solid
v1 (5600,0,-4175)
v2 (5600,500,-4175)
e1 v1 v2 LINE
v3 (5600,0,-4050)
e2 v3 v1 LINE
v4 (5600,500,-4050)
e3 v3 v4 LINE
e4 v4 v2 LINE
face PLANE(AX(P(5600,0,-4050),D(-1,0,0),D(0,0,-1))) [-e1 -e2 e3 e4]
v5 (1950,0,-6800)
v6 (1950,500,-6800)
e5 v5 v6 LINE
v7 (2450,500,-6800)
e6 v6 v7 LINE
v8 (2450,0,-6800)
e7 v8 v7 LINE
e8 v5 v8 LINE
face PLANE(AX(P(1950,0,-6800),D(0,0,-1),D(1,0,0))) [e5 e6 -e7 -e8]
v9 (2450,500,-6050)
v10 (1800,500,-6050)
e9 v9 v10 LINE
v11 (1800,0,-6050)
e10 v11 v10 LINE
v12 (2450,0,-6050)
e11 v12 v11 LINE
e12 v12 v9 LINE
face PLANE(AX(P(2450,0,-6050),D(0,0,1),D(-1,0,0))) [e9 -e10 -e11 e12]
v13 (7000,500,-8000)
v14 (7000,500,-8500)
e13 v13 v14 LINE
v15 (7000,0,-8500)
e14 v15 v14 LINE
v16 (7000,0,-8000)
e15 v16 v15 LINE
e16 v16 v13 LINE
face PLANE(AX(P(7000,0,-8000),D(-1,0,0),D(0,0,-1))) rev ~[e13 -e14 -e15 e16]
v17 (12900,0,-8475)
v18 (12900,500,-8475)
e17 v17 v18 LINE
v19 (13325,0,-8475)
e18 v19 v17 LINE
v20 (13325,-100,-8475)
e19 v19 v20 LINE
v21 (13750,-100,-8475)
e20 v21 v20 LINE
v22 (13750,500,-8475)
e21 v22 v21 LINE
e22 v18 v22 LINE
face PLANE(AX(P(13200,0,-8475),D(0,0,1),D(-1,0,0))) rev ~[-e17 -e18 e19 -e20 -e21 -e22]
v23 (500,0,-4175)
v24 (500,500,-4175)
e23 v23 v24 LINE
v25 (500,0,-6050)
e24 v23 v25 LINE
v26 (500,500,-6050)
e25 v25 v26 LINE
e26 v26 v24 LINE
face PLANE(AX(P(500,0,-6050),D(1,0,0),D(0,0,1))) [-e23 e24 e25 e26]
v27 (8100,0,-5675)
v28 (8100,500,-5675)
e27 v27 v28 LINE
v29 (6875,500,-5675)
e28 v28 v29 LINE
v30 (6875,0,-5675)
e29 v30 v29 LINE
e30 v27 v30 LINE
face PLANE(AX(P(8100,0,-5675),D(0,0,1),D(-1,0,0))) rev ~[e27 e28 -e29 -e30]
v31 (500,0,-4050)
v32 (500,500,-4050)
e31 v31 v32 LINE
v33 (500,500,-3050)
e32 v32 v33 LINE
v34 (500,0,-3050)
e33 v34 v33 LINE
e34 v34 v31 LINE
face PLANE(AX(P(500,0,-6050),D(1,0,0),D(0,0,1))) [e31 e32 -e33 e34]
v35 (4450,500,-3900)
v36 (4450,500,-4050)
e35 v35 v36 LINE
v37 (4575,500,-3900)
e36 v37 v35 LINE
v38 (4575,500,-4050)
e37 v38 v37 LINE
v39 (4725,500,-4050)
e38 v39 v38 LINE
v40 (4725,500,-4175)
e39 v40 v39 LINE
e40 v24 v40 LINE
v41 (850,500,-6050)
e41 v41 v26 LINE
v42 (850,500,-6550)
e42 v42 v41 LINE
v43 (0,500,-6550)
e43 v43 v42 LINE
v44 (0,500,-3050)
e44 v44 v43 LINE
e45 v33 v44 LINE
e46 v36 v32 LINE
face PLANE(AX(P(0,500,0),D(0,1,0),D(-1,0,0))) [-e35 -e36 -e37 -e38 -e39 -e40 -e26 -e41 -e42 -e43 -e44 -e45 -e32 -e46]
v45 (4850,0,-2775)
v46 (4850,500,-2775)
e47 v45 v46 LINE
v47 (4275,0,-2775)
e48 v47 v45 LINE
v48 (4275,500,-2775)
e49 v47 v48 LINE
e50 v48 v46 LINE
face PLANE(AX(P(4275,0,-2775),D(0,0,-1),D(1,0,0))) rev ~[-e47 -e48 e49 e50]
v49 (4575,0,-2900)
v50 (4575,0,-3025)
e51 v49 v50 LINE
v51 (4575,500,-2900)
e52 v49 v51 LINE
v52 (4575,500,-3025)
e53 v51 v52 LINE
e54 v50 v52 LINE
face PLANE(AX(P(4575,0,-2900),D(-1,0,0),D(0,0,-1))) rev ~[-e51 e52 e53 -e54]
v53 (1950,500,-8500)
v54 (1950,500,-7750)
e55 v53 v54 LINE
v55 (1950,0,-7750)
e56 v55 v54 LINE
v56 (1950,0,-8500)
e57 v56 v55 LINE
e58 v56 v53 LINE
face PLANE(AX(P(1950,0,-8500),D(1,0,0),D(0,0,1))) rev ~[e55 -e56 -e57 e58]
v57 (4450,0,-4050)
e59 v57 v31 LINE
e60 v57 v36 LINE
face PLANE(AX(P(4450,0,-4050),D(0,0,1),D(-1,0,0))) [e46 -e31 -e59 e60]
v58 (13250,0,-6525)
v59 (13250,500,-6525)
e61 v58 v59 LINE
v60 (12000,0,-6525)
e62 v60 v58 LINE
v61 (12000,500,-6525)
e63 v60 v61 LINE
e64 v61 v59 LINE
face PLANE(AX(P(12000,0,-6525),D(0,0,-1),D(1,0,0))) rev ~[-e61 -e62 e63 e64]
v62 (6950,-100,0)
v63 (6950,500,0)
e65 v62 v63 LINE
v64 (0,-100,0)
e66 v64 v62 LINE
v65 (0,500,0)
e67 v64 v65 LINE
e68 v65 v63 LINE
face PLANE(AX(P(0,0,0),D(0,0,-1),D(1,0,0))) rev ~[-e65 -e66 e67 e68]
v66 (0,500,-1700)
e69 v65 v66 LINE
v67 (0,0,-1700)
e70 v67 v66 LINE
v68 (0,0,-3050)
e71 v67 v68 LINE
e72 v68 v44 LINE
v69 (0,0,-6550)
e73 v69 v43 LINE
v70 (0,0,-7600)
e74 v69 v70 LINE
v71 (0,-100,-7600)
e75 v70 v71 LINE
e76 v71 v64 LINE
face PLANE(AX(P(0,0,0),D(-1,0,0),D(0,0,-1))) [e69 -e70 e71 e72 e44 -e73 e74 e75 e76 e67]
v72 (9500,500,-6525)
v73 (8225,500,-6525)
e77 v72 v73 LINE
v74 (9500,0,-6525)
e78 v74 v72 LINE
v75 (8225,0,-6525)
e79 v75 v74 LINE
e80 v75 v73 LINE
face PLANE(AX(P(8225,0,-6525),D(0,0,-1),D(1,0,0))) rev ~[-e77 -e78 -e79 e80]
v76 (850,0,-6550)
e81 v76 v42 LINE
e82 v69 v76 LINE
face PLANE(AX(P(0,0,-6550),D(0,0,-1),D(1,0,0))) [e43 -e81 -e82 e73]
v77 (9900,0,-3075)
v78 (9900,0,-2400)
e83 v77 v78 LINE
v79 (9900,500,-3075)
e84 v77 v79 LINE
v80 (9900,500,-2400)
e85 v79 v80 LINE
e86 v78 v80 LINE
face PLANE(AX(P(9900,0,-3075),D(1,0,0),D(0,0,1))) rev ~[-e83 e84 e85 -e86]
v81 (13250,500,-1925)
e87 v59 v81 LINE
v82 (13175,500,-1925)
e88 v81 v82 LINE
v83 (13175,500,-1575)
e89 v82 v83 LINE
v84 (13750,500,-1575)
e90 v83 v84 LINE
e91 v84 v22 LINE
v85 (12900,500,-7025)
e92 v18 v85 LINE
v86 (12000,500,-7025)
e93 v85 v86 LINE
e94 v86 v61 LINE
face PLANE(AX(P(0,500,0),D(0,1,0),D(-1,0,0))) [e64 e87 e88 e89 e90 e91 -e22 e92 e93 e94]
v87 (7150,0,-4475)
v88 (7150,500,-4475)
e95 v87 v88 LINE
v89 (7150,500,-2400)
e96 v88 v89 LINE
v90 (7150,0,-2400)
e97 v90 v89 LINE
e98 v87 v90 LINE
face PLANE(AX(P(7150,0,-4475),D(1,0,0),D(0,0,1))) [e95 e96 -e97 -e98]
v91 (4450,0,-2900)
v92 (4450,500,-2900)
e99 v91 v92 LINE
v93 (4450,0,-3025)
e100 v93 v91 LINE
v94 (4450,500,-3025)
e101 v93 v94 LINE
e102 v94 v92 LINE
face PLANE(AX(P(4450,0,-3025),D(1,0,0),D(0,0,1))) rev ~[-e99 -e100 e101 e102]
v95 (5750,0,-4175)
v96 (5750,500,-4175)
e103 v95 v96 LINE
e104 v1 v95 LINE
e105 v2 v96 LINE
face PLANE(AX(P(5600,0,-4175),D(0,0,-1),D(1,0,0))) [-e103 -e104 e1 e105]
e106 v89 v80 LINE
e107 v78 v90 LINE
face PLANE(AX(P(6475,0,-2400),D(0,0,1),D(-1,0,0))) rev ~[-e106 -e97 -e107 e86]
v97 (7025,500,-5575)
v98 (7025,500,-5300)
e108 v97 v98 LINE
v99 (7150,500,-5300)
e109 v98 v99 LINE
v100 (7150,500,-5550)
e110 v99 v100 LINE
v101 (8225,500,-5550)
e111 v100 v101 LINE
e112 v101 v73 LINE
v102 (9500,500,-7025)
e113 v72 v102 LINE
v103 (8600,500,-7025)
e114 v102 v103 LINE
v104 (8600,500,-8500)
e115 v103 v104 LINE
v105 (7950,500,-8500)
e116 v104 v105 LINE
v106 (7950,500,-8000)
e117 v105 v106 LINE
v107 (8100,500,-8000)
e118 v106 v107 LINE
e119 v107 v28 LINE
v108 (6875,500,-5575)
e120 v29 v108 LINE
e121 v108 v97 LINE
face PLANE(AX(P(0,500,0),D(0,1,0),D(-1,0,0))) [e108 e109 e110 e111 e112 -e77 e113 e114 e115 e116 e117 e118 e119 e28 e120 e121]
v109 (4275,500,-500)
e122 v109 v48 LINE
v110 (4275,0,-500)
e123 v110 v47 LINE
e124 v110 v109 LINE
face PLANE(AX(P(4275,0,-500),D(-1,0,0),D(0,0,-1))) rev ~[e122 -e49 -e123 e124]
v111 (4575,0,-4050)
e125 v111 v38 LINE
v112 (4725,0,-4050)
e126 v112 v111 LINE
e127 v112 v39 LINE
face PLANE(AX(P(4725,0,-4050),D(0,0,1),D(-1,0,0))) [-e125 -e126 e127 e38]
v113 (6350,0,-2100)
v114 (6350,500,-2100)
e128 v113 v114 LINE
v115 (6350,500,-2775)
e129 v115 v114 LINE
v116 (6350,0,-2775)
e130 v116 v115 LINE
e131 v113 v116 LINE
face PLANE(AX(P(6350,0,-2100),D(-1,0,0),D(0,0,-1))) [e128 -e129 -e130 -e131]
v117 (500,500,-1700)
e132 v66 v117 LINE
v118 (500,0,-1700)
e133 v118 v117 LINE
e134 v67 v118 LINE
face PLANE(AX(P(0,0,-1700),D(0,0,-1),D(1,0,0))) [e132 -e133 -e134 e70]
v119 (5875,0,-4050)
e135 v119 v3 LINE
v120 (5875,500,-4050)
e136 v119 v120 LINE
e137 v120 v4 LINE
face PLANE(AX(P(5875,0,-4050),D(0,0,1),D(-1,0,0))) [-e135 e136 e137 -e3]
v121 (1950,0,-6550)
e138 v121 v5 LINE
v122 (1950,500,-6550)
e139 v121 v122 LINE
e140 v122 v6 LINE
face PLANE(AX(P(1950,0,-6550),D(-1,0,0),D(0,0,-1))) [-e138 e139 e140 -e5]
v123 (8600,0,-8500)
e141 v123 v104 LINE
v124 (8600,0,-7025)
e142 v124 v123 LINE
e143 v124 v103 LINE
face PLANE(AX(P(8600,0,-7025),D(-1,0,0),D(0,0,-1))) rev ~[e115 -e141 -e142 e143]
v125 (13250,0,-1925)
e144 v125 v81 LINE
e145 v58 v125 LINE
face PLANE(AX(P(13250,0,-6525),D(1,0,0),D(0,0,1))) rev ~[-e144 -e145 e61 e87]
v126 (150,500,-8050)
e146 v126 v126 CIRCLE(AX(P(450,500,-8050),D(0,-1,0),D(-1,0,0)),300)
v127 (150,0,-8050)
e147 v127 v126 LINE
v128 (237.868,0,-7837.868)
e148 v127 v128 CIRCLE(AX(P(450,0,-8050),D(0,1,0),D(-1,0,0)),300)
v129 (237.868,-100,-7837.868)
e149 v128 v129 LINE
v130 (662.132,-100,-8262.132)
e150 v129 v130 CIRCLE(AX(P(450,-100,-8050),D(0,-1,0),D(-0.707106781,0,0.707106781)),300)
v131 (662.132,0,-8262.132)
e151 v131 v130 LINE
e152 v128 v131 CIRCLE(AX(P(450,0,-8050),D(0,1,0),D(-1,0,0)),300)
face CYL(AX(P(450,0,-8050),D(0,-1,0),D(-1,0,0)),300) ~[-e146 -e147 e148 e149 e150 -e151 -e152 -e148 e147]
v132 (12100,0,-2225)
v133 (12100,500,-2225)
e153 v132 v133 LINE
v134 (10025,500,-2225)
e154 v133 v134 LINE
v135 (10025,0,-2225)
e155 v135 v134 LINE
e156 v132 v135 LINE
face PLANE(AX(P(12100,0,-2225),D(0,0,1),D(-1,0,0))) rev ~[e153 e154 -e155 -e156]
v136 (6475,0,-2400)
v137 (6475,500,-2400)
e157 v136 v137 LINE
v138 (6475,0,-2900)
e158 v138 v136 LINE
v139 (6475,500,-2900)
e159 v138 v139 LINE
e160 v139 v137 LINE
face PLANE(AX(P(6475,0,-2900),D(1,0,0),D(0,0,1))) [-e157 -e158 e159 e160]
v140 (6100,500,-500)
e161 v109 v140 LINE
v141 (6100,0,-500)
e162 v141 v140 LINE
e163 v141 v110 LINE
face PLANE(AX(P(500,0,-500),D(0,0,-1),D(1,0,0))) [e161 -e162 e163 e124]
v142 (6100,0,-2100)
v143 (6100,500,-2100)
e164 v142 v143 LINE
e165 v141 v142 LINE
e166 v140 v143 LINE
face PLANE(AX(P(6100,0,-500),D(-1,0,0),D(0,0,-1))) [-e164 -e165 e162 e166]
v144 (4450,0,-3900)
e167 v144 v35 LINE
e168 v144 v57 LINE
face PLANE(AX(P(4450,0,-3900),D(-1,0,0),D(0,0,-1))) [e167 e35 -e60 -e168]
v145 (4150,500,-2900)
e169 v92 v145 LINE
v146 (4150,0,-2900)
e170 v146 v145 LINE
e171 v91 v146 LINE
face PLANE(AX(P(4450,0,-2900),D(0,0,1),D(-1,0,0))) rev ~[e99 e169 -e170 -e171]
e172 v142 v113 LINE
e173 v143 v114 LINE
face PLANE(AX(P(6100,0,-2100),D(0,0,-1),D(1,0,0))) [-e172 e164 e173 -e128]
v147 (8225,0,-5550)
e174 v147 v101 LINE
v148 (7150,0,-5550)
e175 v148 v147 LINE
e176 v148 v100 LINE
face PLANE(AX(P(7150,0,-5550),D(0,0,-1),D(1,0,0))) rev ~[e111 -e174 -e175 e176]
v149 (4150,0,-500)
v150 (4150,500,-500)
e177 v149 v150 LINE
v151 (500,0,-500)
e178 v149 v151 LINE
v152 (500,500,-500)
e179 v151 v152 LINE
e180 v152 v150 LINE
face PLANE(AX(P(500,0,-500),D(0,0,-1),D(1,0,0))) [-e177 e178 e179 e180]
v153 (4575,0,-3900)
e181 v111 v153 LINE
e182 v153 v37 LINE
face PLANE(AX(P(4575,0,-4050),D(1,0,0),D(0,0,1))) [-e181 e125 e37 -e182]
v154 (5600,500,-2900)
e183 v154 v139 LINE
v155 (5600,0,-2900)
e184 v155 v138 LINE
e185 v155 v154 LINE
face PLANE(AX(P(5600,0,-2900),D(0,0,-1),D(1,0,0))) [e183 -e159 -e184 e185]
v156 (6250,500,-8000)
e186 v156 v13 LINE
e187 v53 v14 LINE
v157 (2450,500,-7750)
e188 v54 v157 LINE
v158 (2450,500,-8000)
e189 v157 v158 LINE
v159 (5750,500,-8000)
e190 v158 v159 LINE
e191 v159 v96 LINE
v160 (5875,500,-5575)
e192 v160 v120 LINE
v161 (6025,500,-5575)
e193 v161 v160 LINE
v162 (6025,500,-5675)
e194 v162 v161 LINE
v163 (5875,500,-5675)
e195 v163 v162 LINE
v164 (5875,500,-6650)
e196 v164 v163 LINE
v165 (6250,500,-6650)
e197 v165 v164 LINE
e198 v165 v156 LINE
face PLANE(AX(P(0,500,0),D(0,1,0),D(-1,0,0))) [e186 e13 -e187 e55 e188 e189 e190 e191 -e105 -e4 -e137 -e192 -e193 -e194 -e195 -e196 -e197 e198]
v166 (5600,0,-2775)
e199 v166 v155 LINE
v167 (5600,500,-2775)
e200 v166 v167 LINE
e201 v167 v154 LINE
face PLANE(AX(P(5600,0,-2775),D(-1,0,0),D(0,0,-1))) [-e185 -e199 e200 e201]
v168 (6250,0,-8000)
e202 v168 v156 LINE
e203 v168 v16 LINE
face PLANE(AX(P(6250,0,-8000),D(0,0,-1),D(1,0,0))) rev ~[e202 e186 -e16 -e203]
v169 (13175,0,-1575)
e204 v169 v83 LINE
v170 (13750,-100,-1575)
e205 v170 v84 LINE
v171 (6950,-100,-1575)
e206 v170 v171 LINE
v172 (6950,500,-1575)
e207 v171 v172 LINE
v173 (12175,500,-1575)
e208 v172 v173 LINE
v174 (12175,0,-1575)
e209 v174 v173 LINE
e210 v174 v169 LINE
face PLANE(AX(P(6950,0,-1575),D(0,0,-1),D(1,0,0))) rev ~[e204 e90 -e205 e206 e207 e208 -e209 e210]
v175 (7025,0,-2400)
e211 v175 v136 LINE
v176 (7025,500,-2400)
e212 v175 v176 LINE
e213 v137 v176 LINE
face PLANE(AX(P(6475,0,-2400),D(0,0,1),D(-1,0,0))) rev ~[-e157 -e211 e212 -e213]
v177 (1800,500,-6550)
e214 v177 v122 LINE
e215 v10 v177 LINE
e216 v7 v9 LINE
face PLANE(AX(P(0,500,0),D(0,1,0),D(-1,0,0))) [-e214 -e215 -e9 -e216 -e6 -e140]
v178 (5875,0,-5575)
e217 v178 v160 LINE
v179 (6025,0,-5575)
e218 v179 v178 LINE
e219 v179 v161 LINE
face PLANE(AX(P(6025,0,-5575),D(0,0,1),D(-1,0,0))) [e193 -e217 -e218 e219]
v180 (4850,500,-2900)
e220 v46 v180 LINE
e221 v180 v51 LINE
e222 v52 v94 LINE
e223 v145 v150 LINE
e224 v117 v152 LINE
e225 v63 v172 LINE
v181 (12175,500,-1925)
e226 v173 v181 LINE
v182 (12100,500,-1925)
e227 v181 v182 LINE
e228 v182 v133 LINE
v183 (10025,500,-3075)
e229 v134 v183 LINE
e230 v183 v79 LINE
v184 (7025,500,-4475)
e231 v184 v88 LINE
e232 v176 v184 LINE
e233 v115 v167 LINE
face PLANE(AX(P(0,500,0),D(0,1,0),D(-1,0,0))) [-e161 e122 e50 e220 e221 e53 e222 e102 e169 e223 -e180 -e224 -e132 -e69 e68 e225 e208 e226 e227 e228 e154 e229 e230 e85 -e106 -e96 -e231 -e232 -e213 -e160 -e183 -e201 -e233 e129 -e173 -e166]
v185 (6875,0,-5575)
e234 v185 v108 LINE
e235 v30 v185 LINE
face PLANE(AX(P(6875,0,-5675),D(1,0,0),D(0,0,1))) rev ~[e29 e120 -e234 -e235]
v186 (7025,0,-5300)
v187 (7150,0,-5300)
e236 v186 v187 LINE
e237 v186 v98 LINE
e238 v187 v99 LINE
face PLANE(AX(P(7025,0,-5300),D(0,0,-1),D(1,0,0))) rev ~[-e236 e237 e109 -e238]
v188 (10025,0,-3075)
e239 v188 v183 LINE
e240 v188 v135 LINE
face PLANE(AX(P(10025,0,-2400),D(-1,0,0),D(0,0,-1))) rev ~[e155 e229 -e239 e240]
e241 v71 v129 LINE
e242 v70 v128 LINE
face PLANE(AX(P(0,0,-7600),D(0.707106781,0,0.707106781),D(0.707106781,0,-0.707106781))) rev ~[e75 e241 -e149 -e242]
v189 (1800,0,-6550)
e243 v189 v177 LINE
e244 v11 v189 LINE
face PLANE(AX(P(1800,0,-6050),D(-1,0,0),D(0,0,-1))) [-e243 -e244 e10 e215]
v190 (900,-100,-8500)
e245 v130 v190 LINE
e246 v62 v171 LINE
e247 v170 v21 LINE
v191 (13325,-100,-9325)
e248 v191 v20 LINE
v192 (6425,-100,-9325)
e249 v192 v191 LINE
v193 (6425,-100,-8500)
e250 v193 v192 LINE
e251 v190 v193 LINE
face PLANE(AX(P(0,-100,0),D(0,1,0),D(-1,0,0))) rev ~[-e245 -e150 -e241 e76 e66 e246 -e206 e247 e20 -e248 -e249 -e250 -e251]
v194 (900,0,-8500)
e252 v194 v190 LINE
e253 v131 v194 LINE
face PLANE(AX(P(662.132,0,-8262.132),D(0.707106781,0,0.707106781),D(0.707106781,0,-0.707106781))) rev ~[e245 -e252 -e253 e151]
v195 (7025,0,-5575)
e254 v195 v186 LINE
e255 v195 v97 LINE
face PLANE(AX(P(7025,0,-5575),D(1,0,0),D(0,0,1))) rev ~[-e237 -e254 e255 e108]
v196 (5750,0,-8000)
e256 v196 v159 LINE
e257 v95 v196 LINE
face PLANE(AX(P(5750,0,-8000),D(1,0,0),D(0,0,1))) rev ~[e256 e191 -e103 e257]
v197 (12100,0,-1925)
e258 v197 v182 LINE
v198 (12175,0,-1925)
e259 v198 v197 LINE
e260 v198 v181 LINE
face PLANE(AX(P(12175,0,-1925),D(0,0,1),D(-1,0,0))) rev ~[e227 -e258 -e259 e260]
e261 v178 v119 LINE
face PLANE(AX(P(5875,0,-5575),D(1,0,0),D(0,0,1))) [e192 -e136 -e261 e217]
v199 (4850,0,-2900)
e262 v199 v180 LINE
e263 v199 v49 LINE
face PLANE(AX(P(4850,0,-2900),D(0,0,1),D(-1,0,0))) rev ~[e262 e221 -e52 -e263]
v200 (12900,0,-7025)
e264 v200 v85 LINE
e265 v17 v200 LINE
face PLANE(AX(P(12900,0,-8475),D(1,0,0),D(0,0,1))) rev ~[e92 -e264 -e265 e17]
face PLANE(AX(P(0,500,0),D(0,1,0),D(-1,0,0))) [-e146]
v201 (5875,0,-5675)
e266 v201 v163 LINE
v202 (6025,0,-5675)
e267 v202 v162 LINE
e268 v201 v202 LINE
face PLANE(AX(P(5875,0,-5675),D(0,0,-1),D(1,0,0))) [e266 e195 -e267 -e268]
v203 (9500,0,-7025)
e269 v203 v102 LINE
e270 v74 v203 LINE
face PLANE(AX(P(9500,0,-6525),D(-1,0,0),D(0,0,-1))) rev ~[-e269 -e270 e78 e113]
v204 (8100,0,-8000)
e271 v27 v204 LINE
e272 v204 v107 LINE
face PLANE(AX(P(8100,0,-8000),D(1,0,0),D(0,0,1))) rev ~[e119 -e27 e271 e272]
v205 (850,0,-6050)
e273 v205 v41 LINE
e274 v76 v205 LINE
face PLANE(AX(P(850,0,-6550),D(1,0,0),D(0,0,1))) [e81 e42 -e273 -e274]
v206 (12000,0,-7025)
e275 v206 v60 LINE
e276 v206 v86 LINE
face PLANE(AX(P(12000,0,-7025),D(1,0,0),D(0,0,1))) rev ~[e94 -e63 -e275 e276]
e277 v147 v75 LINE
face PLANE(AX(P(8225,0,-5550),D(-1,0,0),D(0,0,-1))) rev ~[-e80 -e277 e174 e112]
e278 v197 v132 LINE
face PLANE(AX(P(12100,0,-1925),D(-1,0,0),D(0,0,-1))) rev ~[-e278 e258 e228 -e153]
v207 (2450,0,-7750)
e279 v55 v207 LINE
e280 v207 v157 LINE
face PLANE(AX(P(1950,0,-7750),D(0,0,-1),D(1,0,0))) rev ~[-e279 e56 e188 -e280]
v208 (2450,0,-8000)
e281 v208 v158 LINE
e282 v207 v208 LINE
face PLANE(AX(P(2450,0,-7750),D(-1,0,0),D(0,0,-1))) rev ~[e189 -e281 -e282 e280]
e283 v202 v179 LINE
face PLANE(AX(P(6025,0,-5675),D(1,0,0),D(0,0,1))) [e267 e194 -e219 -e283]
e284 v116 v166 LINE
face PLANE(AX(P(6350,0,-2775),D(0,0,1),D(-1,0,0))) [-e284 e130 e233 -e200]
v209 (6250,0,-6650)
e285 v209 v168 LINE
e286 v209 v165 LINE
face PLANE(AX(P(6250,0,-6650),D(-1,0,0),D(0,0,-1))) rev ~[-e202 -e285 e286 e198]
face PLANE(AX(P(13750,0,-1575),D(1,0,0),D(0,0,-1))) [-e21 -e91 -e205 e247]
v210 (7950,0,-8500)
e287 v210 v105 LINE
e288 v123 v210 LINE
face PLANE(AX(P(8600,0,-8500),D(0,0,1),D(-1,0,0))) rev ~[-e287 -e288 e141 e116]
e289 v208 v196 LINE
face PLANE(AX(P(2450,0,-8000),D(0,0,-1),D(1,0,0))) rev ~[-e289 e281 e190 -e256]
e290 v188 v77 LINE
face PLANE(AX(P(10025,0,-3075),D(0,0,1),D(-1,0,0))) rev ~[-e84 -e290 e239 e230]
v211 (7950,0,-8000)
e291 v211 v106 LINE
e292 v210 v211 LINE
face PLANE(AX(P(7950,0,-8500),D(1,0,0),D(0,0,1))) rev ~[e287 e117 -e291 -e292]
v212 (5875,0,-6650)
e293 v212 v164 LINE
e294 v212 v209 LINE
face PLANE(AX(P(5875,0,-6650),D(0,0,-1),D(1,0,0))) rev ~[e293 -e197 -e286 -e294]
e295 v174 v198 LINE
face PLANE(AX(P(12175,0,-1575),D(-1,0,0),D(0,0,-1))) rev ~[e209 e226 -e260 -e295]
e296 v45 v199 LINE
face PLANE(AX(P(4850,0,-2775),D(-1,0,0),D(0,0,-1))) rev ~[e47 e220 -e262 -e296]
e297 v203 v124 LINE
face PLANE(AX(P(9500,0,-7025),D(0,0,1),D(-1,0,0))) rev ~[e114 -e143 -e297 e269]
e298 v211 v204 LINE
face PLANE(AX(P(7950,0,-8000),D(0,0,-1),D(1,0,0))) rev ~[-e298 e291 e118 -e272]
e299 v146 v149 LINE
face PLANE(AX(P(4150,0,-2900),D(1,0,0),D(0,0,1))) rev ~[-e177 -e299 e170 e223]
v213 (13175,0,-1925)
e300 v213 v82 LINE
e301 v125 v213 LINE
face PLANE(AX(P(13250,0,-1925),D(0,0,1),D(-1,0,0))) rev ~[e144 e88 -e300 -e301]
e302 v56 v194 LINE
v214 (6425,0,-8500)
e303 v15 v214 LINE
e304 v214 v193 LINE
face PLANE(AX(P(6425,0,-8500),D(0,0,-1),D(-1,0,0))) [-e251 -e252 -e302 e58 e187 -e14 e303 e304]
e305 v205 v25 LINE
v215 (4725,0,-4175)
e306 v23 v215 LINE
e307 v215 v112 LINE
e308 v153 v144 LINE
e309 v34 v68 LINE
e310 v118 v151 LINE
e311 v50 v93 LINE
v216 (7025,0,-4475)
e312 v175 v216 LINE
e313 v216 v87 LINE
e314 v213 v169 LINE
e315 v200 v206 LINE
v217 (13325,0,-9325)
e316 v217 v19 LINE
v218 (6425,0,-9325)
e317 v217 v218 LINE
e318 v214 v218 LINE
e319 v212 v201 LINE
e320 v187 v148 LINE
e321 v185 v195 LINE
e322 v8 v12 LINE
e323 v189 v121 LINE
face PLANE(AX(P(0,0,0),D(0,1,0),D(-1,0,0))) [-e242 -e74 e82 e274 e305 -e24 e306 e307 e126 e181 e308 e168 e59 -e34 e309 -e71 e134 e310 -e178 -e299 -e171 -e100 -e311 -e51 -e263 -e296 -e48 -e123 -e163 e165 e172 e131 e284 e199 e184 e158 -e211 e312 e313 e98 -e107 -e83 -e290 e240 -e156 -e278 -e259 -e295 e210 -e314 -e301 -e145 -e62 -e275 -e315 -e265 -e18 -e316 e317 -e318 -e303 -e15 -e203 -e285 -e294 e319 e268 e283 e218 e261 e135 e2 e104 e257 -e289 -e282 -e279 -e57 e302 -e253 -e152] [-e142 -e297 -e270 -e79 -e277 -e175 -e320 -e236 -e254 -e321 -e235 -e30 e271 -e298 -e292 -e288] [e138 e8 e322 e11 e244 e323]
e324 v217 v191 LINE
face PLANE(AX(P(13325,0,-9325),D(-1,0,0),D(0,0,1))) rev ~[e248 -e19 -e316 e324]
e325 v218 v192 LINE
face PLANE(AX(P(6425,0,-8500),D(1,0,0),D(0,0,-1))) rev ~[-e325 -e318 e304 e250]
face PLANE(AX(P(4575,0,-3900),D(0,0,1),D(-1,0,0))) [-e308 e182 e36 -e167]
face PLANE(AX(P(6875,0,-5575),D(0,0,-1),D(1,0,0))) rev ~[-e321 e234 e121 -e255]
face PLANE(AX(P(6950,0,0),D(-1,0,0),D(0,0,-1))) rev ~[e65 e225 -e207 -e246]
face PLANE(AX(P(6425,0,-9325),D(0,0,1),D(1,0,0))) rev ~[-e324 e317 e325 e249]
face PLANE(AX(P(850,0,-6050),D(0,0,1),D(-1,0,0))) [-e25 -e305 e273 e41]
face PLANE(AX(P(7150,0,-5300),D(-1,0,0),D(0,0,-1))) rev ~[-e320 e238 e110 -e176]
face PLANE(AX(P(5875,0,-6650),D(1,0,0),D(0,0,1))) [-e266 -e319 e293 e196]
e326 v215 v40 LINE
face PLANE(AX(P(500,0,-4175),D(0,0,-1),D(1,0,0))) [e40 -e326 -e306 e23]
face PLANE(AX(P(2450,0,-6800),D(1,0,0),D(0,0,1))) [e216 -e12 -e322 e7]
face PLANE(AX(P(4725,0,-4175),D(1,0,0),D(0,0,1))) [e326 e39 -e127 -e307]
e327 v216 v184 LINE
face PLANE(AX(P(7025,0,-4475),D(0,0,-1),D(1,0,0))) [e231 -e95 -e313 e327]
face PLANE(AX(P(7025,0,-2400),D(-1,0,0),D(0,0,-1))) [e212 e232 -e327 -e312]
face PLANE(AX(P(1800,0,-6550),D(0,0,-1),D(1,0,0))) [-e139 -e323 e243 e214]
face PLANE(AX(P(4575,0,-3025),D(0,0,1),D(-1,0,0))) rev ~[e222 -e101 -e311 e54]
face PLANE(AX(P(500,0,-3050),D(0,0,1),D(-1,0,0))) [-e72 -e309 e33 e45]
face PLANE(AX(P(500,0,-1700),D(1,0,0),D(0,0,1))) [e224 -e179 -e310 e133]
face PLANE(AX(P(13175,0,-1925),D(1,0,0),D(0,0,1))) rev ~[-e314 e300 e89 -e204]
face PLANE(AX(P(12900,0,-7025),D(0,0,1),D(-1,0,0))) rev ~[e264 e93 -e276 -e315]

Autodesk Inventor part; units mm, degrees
ref_plane "YZ Plane" through (0, 0, 0) normal (1, 0, 0) x (0, 1, 0)
ref_plane "XZ Plane" through (0, 0, 0) normal (0, 1, 0) x (-1, 0, 0)
ref_plane "XY Plane" through (0, 0, 0) normal (0, 0, 1) x (1, 0, 0)
sketch "Sketch1" plane through (0, 0, 0) normal (0, 1, 0) x (-1, 0, 0)
  line L0 (0, 0) -> (-6950, 0)
  line L1 (-6950, 0) -> (-6950, -1575)
  line L2 (-13750, -1575) -> (-13750, -8475)
  line L3 (-13750, -8475) -> (-12900, -8475)
  line L4 (-12900, -8475) -> (-12900, -7025)
  line L5 (-12900, -7025) -> (-12000, -7025)
  line L6 (-12000, -7025) -> (-12000, -6525)
  line L7 (-12000, -6525) -> (-13250, -6525)
  line L8 (-13250, -6525) -> (-13250, -1925)
  line L9 (-13250, -1925) -> (-13175, -1925)
  line L10 (-13175, -1925) -> (-13175, -1575)
  line L11 (-12175, -1575) -> (-12175, -1925)
  line L12 (-12175, -1925) -> (-12100, -1925)
  line L13 (-12100, -1925) -> (-12100, -2225)
  line L14 (-12100, -2225) -> (-10025, -2225)
  line L15 (-10025, -2225) -> (-10025, -2400)
  line L16 (-10025, -2400) -> (-6350, -2400)
  line L17 (0, 0) -> (0, -1700)
  line L18 (0, -1700) -> (-500, -1700)
  line L19 (-500, -1700) -> (-500, -500)
  line L20 (-500, -500) -> (-6100, -500)
  line L21 (-6100, -500) -> (-6100, -2100)
  line L22 (-6100, -2100) -> (-6350, -2100)
  line L23 (-6350, -2100) -> (-6350, -2400)
  line L24 (0, -3050) -> (0, -6550)
  line L25 (0, -6550) -> (-850, -6550)
  line L26 (-850, -6550) -> (-850, -6050)
  line L27 (-850, -6050) -> (-500, -6050)
  line L28 (-500, -6050) -> (-500, -3050)
  line L29 (-500, -3050) -> (0, -3050)
  line L30 (-1800, -6550) -> (-1950, -6550)
  line L31 (-1950, -6550) -> (-1950, -6800)
  line L32 (-1950, -6800) -> (-2450, -6800)
  line L33 (-2450, -6800) -> (-2450, -6050)
  line L34 (-2450, -6050) -> (-1800, -6050)
  line L35 (-1800, -6050) -> (-1800, -6550)
  line L36 (-1950, -7750) -> (-2450, -7750)
  line L37 (-2450, -7750) -> (-2450, -8000)
  line L38 (-2450, -8000) -> (-5750, -8000)
  line L39 (-5750, -8000) -> (-5750, -6650)
  line L40 (-5750, -6650) -> (-6250, -6650)
  line L41 (-6250, -6650) -> (-6250, -8000)
  line L42 (-6250, -8000) -> (-7000, -8000)
  line L43 (-7000, -8000) -> (-7000, -8500)
  line L44 (-7000, -8500) -> (-1950, -8500)
  line L45 (-1950, -8500) -> (-1950, -7750)
  line L46 (-7950, -8500) -> (-7950, -8000)
  line L47 (-7950, -8000) -> (-8100, -8000)
  line L48 (-8100, -8000) -> (-8100, -6525)
  line L49 (-8100, -6525) -> (-9500, -6525)
  line L50 (-9500, -6525) -> (-9500, -7025)
  line L51 (-9500, -7025) -> (-8600, -7025)
  line L52 (-8600, -7025) -> (-8600, -8500)
  line L53 (-8600, -8500) -> (-7950, -8500)
  line L54 (-6950, -1575) -> (-12175, -1575)
  line L55 (-13175, -1575) -> (-13750, -1575)
  line L56 (-4275, -500) -> (-4275, -2775)
  line L57 (-4275, -2775) -> (-4850, -2775)
  line L58 (-4850, -2775) -> (-4850, -2900)
  line L59 (-4850, -2900) -> (-4575, -2900)
  line L60 (-4575, -2900) -> (-4575, -3025)
  line L61 (-4575, -3025) -> (-4450, -3025)
  line L62 (-4450, -3025) -> (-4450, -2900)
  line L63 (-4450, -2900) -> (-4150, -2900)
  line L64 (-4150, -2900) -> (-4150, -500)
  line L65 (-6350, -2400) -> (-6350, -2775)
  line L66 (-6350, -2775) -> (-5600, -2775)
  line L67 (-5600, -2775) -> (-5600, -2900)
  line L68 (-5600, -2900) -> (-6475, -2900)
  line L69 (-6475, -2900) -> (-6475, -2400)
  line L70 (-7025, -2400) -> (-7025, -4475)
  line L71 (-7025, -4475) -> (-7150, -4475)
  line L72 (-7150, -4475) -> (-7150, -2400)
  line L73 (-8100, -6525) -> (-8100, -5675)
  line L74 (-8100, -5675) -> (-6875, -5675)
  line L75 (-6875, -5675) -> (-6875, -5575)
  line L76 (-6875, -5575) -> (-7025, -5575)
  line L77 (-7025, -5575) -> (-7025, -5300)
  line L78 (-7025, -5300) -> (-7150, -5300)
  line L79 (-7150, -5300) -> (-7150, -5550)
  line L80 (-8225, -5550) -> (-8225, -6525)
  line L81 (-7150, -5550) -> (-8225, -5550)
  line L82 (-5875, -6650) -> (-5875, -5675)
  line L83 (-5875, -5675) -> (-6025, -5675)
  line L84 (-6025, -5675) -> (-6025, -5575)
  line L85 (-6025, -5575) -> (-5875, -5575)
  line L86 (-5875, -5575) -> (-5875, -4050)
  line L87 (-5875, -4050) -> (-5600, -4050)
  line L88 (-5600, -4050) -> (-5600, -4175)
  line L89 (-5600, -4175) -> (-5750, -4175)
  line L90 (-5750, -4175) -> (-5750, -6650)
  line L91 (-500, -4175) -> (-4725, -4175)
  line L92 (-4725, -4175) -> (-4725, -4050)
  line L93 (-4725, -4050) -> (-4575, -4050)
  line L94 (-4575, -4050) -> (-4575, -3900)
  line L95 (-4575, -3900) -> (-4450, -3900)
  line L96 (-4450, -3900) -> (-4450, -4050)
  line L97 (-4450, -4050) -> (-500, -4050)
  line L98 (-4150, -2900) -> (-4275, -2775) construction
  line L99 (-6350, -2775) -> (-6475, -2900) construction
  line L100 (-5750, -4175) -> (-5875, -4050) construction
  line L101 (0, -3050) -> (0, -1700)
  line L102 (-12175, -1575) -> (-13175, -1575)
  line L103 (-12000, -7025) -> (-9500, -7025)
  line L104 (-7000, -8500) -> (-7950, -8500)
  line L105 (0, -6550) -> (0, -7600)
  line L106 (-900, -8500) -> (-1950, -8500)
  circle A0 centre (-450, -8050) radius 300
  line L107 (0, -7600) -> (-237.868, -7837.868)
  line L108 (-662.132, -8262.132) -> (-900, -8500)
  line L109 (-850, -6050) -> (-1800, -6050)
  line L110 (-2450, -6800) -> (-2450, -7750)
  line L111 (-500, -3050) -> (-500, -1700)
  line L112 (-7000, -8000) -> (-7950, -8000)
  line L113 (-850, -6550) -> (-1800, -6550)
  line L114 (-1950, -6800) -> (-1950, -7750)
  line L115 (-9500, -6525) -> (-12000, -6525)
  line L116 (-6425, -8500) -> (-6425, -9325)
  line L117 (-6425, -9325) -> (-13325, -9325)
  line L118 (-13325, -9325) -> (-13325, -8475)
  line L119 (-13200, -8475) -> (-13200, -9200)
  line L120 (-13200, -9200) -> (-6550, -9200)
  line L121 (-6550, -9200) -> (-6550, -8500)
  line L122 (-6425, -9325) -> (-6550, -9200) construction
  line L123 (-13200, -9200) -> (-13325, -9325) construction
  line L124 (-7075, -9325) -> (-7075, -9200)
  line L125 (-8100, -5675) -> (-8225, -5550) construction
  line L126 (-10025, -2400) -> (-10025, -3075)
  line L127 (-10025, -3075) -> (-9900, -3075)
  line L128 (-9900, -3075) -> (-9900, -2400)
  dimension "d0" = 1000
  dimension "d1" = 3225
  dimension "d2" = 13250
  dimension "d4" = 1150
  dimension "d5" = 6075
  dimension "d6" = 5600
  dimension "d7" = 500
  dimension "d8" = 1350
  dimension "d9" = 1200
  dimension "d10" = 500
  dimension "d11" = 1600
  dimension "d12" = 1900
  dimension "d13" = 5850
  dimension "d14" = 6000
  dimension "d15" = 4300
  dimension "d16" = 6900
  dimension "d17" = 500
  dimension "d18" = 350
  dimension "d19" = 300
  dimension "d20" = 175
  dimension "d21" = 650
  dimension "d22" = 850
  dimension "d23" = 5550
  dimension "d24" = 5250
  dimension "d25" = 950
  dimension "d26" = 350
  dimension "d27" = 650
  dimension "d28" = 750
  dimension "d29" = 950
  dimension "d30" = 1950
  dimension "d31" = 1350
  dimension "d32" = 750
  dimension "d33" = 950
  dimension "d34" = 1850
  dimension "d35" = 500
  dimension "d36" = 2500
  dimension "d37" = 1400
  dimension "d38" = 900
  dimension "d41" = 875
  dimension "d42" = 1150
  dimension "d43" = 150
  dimension "d44" = 3950
  dimension "d45" = 3550
  dimension "d46" = 125
  dimension "d47" = 875
  dimension "d48" = 750
  dimension "d49" = 1500
  dimension "d52" = 3650
  dimension "d53" = 1825
  dimension "d57" = 600
  dimension "d58" = 1500
  dimension "d59" = 450
  dimension "d60" = 125
  dimension "d61" = 650
  dimension "d62" = 825
  dimension "d65" = 975
  dimension "d66" = 850
  dimension "d67" = 150
  dimension "d68" = 1150
  dimension "d69" = 825
  dimension "d70" = 250
  dimension "d71" = 275
  dimension "d72" = 100
  dimension "d73" = 125
extrude "Extrusion1" add sketch "Sketch1" along normal blind 500 contours L17 L18 L19 L20 L21 L22 L23 L16 L15 L14 L13 L12 L11 L54 L1 L0 | L24 L25 L26 L27 L28 L29 | L10 L9 L8 L7 L6 L5 L4 L3 L2 L55 | L30 L31 L32 L33 L34 L35 | A0 | L45 L44 L43 L42 L41 L40 L39 L38 L37 L36 | L49 L48 L47 L46 L53 L52 L51 L50
extrude "Extrusion2" add sketch "Sketch1" along normal up to surface (500 mm away) contours L64 L63 L62 L61 L60 L59 L58 L57 L56 L20 | L28 L91 L92 L93 L94 L95 L96 L97 | L65 L66 L67 L68 L69 L16 | L16 L70 L71 L72 | L80 L81 L79 L78 L77 L76 L75 L74 L73 L49 | L40 L82 L83 L84 L85 L86 L87 L88 L89 L90
extrude "Extrusion3" add sketch "Sketch1" against normal blind 100
extrude "Extrusion4" add sketch "Sketch1" along normal up to surface (500 mm away) contours L16 L128 L127 L126
equation "\"d10\" = d7"
equation "\"d17\" = d10"
equation "\"d29\" = d25"
equation "\"d35\" = d7"
properties part number "Torre nel Verde 17"
